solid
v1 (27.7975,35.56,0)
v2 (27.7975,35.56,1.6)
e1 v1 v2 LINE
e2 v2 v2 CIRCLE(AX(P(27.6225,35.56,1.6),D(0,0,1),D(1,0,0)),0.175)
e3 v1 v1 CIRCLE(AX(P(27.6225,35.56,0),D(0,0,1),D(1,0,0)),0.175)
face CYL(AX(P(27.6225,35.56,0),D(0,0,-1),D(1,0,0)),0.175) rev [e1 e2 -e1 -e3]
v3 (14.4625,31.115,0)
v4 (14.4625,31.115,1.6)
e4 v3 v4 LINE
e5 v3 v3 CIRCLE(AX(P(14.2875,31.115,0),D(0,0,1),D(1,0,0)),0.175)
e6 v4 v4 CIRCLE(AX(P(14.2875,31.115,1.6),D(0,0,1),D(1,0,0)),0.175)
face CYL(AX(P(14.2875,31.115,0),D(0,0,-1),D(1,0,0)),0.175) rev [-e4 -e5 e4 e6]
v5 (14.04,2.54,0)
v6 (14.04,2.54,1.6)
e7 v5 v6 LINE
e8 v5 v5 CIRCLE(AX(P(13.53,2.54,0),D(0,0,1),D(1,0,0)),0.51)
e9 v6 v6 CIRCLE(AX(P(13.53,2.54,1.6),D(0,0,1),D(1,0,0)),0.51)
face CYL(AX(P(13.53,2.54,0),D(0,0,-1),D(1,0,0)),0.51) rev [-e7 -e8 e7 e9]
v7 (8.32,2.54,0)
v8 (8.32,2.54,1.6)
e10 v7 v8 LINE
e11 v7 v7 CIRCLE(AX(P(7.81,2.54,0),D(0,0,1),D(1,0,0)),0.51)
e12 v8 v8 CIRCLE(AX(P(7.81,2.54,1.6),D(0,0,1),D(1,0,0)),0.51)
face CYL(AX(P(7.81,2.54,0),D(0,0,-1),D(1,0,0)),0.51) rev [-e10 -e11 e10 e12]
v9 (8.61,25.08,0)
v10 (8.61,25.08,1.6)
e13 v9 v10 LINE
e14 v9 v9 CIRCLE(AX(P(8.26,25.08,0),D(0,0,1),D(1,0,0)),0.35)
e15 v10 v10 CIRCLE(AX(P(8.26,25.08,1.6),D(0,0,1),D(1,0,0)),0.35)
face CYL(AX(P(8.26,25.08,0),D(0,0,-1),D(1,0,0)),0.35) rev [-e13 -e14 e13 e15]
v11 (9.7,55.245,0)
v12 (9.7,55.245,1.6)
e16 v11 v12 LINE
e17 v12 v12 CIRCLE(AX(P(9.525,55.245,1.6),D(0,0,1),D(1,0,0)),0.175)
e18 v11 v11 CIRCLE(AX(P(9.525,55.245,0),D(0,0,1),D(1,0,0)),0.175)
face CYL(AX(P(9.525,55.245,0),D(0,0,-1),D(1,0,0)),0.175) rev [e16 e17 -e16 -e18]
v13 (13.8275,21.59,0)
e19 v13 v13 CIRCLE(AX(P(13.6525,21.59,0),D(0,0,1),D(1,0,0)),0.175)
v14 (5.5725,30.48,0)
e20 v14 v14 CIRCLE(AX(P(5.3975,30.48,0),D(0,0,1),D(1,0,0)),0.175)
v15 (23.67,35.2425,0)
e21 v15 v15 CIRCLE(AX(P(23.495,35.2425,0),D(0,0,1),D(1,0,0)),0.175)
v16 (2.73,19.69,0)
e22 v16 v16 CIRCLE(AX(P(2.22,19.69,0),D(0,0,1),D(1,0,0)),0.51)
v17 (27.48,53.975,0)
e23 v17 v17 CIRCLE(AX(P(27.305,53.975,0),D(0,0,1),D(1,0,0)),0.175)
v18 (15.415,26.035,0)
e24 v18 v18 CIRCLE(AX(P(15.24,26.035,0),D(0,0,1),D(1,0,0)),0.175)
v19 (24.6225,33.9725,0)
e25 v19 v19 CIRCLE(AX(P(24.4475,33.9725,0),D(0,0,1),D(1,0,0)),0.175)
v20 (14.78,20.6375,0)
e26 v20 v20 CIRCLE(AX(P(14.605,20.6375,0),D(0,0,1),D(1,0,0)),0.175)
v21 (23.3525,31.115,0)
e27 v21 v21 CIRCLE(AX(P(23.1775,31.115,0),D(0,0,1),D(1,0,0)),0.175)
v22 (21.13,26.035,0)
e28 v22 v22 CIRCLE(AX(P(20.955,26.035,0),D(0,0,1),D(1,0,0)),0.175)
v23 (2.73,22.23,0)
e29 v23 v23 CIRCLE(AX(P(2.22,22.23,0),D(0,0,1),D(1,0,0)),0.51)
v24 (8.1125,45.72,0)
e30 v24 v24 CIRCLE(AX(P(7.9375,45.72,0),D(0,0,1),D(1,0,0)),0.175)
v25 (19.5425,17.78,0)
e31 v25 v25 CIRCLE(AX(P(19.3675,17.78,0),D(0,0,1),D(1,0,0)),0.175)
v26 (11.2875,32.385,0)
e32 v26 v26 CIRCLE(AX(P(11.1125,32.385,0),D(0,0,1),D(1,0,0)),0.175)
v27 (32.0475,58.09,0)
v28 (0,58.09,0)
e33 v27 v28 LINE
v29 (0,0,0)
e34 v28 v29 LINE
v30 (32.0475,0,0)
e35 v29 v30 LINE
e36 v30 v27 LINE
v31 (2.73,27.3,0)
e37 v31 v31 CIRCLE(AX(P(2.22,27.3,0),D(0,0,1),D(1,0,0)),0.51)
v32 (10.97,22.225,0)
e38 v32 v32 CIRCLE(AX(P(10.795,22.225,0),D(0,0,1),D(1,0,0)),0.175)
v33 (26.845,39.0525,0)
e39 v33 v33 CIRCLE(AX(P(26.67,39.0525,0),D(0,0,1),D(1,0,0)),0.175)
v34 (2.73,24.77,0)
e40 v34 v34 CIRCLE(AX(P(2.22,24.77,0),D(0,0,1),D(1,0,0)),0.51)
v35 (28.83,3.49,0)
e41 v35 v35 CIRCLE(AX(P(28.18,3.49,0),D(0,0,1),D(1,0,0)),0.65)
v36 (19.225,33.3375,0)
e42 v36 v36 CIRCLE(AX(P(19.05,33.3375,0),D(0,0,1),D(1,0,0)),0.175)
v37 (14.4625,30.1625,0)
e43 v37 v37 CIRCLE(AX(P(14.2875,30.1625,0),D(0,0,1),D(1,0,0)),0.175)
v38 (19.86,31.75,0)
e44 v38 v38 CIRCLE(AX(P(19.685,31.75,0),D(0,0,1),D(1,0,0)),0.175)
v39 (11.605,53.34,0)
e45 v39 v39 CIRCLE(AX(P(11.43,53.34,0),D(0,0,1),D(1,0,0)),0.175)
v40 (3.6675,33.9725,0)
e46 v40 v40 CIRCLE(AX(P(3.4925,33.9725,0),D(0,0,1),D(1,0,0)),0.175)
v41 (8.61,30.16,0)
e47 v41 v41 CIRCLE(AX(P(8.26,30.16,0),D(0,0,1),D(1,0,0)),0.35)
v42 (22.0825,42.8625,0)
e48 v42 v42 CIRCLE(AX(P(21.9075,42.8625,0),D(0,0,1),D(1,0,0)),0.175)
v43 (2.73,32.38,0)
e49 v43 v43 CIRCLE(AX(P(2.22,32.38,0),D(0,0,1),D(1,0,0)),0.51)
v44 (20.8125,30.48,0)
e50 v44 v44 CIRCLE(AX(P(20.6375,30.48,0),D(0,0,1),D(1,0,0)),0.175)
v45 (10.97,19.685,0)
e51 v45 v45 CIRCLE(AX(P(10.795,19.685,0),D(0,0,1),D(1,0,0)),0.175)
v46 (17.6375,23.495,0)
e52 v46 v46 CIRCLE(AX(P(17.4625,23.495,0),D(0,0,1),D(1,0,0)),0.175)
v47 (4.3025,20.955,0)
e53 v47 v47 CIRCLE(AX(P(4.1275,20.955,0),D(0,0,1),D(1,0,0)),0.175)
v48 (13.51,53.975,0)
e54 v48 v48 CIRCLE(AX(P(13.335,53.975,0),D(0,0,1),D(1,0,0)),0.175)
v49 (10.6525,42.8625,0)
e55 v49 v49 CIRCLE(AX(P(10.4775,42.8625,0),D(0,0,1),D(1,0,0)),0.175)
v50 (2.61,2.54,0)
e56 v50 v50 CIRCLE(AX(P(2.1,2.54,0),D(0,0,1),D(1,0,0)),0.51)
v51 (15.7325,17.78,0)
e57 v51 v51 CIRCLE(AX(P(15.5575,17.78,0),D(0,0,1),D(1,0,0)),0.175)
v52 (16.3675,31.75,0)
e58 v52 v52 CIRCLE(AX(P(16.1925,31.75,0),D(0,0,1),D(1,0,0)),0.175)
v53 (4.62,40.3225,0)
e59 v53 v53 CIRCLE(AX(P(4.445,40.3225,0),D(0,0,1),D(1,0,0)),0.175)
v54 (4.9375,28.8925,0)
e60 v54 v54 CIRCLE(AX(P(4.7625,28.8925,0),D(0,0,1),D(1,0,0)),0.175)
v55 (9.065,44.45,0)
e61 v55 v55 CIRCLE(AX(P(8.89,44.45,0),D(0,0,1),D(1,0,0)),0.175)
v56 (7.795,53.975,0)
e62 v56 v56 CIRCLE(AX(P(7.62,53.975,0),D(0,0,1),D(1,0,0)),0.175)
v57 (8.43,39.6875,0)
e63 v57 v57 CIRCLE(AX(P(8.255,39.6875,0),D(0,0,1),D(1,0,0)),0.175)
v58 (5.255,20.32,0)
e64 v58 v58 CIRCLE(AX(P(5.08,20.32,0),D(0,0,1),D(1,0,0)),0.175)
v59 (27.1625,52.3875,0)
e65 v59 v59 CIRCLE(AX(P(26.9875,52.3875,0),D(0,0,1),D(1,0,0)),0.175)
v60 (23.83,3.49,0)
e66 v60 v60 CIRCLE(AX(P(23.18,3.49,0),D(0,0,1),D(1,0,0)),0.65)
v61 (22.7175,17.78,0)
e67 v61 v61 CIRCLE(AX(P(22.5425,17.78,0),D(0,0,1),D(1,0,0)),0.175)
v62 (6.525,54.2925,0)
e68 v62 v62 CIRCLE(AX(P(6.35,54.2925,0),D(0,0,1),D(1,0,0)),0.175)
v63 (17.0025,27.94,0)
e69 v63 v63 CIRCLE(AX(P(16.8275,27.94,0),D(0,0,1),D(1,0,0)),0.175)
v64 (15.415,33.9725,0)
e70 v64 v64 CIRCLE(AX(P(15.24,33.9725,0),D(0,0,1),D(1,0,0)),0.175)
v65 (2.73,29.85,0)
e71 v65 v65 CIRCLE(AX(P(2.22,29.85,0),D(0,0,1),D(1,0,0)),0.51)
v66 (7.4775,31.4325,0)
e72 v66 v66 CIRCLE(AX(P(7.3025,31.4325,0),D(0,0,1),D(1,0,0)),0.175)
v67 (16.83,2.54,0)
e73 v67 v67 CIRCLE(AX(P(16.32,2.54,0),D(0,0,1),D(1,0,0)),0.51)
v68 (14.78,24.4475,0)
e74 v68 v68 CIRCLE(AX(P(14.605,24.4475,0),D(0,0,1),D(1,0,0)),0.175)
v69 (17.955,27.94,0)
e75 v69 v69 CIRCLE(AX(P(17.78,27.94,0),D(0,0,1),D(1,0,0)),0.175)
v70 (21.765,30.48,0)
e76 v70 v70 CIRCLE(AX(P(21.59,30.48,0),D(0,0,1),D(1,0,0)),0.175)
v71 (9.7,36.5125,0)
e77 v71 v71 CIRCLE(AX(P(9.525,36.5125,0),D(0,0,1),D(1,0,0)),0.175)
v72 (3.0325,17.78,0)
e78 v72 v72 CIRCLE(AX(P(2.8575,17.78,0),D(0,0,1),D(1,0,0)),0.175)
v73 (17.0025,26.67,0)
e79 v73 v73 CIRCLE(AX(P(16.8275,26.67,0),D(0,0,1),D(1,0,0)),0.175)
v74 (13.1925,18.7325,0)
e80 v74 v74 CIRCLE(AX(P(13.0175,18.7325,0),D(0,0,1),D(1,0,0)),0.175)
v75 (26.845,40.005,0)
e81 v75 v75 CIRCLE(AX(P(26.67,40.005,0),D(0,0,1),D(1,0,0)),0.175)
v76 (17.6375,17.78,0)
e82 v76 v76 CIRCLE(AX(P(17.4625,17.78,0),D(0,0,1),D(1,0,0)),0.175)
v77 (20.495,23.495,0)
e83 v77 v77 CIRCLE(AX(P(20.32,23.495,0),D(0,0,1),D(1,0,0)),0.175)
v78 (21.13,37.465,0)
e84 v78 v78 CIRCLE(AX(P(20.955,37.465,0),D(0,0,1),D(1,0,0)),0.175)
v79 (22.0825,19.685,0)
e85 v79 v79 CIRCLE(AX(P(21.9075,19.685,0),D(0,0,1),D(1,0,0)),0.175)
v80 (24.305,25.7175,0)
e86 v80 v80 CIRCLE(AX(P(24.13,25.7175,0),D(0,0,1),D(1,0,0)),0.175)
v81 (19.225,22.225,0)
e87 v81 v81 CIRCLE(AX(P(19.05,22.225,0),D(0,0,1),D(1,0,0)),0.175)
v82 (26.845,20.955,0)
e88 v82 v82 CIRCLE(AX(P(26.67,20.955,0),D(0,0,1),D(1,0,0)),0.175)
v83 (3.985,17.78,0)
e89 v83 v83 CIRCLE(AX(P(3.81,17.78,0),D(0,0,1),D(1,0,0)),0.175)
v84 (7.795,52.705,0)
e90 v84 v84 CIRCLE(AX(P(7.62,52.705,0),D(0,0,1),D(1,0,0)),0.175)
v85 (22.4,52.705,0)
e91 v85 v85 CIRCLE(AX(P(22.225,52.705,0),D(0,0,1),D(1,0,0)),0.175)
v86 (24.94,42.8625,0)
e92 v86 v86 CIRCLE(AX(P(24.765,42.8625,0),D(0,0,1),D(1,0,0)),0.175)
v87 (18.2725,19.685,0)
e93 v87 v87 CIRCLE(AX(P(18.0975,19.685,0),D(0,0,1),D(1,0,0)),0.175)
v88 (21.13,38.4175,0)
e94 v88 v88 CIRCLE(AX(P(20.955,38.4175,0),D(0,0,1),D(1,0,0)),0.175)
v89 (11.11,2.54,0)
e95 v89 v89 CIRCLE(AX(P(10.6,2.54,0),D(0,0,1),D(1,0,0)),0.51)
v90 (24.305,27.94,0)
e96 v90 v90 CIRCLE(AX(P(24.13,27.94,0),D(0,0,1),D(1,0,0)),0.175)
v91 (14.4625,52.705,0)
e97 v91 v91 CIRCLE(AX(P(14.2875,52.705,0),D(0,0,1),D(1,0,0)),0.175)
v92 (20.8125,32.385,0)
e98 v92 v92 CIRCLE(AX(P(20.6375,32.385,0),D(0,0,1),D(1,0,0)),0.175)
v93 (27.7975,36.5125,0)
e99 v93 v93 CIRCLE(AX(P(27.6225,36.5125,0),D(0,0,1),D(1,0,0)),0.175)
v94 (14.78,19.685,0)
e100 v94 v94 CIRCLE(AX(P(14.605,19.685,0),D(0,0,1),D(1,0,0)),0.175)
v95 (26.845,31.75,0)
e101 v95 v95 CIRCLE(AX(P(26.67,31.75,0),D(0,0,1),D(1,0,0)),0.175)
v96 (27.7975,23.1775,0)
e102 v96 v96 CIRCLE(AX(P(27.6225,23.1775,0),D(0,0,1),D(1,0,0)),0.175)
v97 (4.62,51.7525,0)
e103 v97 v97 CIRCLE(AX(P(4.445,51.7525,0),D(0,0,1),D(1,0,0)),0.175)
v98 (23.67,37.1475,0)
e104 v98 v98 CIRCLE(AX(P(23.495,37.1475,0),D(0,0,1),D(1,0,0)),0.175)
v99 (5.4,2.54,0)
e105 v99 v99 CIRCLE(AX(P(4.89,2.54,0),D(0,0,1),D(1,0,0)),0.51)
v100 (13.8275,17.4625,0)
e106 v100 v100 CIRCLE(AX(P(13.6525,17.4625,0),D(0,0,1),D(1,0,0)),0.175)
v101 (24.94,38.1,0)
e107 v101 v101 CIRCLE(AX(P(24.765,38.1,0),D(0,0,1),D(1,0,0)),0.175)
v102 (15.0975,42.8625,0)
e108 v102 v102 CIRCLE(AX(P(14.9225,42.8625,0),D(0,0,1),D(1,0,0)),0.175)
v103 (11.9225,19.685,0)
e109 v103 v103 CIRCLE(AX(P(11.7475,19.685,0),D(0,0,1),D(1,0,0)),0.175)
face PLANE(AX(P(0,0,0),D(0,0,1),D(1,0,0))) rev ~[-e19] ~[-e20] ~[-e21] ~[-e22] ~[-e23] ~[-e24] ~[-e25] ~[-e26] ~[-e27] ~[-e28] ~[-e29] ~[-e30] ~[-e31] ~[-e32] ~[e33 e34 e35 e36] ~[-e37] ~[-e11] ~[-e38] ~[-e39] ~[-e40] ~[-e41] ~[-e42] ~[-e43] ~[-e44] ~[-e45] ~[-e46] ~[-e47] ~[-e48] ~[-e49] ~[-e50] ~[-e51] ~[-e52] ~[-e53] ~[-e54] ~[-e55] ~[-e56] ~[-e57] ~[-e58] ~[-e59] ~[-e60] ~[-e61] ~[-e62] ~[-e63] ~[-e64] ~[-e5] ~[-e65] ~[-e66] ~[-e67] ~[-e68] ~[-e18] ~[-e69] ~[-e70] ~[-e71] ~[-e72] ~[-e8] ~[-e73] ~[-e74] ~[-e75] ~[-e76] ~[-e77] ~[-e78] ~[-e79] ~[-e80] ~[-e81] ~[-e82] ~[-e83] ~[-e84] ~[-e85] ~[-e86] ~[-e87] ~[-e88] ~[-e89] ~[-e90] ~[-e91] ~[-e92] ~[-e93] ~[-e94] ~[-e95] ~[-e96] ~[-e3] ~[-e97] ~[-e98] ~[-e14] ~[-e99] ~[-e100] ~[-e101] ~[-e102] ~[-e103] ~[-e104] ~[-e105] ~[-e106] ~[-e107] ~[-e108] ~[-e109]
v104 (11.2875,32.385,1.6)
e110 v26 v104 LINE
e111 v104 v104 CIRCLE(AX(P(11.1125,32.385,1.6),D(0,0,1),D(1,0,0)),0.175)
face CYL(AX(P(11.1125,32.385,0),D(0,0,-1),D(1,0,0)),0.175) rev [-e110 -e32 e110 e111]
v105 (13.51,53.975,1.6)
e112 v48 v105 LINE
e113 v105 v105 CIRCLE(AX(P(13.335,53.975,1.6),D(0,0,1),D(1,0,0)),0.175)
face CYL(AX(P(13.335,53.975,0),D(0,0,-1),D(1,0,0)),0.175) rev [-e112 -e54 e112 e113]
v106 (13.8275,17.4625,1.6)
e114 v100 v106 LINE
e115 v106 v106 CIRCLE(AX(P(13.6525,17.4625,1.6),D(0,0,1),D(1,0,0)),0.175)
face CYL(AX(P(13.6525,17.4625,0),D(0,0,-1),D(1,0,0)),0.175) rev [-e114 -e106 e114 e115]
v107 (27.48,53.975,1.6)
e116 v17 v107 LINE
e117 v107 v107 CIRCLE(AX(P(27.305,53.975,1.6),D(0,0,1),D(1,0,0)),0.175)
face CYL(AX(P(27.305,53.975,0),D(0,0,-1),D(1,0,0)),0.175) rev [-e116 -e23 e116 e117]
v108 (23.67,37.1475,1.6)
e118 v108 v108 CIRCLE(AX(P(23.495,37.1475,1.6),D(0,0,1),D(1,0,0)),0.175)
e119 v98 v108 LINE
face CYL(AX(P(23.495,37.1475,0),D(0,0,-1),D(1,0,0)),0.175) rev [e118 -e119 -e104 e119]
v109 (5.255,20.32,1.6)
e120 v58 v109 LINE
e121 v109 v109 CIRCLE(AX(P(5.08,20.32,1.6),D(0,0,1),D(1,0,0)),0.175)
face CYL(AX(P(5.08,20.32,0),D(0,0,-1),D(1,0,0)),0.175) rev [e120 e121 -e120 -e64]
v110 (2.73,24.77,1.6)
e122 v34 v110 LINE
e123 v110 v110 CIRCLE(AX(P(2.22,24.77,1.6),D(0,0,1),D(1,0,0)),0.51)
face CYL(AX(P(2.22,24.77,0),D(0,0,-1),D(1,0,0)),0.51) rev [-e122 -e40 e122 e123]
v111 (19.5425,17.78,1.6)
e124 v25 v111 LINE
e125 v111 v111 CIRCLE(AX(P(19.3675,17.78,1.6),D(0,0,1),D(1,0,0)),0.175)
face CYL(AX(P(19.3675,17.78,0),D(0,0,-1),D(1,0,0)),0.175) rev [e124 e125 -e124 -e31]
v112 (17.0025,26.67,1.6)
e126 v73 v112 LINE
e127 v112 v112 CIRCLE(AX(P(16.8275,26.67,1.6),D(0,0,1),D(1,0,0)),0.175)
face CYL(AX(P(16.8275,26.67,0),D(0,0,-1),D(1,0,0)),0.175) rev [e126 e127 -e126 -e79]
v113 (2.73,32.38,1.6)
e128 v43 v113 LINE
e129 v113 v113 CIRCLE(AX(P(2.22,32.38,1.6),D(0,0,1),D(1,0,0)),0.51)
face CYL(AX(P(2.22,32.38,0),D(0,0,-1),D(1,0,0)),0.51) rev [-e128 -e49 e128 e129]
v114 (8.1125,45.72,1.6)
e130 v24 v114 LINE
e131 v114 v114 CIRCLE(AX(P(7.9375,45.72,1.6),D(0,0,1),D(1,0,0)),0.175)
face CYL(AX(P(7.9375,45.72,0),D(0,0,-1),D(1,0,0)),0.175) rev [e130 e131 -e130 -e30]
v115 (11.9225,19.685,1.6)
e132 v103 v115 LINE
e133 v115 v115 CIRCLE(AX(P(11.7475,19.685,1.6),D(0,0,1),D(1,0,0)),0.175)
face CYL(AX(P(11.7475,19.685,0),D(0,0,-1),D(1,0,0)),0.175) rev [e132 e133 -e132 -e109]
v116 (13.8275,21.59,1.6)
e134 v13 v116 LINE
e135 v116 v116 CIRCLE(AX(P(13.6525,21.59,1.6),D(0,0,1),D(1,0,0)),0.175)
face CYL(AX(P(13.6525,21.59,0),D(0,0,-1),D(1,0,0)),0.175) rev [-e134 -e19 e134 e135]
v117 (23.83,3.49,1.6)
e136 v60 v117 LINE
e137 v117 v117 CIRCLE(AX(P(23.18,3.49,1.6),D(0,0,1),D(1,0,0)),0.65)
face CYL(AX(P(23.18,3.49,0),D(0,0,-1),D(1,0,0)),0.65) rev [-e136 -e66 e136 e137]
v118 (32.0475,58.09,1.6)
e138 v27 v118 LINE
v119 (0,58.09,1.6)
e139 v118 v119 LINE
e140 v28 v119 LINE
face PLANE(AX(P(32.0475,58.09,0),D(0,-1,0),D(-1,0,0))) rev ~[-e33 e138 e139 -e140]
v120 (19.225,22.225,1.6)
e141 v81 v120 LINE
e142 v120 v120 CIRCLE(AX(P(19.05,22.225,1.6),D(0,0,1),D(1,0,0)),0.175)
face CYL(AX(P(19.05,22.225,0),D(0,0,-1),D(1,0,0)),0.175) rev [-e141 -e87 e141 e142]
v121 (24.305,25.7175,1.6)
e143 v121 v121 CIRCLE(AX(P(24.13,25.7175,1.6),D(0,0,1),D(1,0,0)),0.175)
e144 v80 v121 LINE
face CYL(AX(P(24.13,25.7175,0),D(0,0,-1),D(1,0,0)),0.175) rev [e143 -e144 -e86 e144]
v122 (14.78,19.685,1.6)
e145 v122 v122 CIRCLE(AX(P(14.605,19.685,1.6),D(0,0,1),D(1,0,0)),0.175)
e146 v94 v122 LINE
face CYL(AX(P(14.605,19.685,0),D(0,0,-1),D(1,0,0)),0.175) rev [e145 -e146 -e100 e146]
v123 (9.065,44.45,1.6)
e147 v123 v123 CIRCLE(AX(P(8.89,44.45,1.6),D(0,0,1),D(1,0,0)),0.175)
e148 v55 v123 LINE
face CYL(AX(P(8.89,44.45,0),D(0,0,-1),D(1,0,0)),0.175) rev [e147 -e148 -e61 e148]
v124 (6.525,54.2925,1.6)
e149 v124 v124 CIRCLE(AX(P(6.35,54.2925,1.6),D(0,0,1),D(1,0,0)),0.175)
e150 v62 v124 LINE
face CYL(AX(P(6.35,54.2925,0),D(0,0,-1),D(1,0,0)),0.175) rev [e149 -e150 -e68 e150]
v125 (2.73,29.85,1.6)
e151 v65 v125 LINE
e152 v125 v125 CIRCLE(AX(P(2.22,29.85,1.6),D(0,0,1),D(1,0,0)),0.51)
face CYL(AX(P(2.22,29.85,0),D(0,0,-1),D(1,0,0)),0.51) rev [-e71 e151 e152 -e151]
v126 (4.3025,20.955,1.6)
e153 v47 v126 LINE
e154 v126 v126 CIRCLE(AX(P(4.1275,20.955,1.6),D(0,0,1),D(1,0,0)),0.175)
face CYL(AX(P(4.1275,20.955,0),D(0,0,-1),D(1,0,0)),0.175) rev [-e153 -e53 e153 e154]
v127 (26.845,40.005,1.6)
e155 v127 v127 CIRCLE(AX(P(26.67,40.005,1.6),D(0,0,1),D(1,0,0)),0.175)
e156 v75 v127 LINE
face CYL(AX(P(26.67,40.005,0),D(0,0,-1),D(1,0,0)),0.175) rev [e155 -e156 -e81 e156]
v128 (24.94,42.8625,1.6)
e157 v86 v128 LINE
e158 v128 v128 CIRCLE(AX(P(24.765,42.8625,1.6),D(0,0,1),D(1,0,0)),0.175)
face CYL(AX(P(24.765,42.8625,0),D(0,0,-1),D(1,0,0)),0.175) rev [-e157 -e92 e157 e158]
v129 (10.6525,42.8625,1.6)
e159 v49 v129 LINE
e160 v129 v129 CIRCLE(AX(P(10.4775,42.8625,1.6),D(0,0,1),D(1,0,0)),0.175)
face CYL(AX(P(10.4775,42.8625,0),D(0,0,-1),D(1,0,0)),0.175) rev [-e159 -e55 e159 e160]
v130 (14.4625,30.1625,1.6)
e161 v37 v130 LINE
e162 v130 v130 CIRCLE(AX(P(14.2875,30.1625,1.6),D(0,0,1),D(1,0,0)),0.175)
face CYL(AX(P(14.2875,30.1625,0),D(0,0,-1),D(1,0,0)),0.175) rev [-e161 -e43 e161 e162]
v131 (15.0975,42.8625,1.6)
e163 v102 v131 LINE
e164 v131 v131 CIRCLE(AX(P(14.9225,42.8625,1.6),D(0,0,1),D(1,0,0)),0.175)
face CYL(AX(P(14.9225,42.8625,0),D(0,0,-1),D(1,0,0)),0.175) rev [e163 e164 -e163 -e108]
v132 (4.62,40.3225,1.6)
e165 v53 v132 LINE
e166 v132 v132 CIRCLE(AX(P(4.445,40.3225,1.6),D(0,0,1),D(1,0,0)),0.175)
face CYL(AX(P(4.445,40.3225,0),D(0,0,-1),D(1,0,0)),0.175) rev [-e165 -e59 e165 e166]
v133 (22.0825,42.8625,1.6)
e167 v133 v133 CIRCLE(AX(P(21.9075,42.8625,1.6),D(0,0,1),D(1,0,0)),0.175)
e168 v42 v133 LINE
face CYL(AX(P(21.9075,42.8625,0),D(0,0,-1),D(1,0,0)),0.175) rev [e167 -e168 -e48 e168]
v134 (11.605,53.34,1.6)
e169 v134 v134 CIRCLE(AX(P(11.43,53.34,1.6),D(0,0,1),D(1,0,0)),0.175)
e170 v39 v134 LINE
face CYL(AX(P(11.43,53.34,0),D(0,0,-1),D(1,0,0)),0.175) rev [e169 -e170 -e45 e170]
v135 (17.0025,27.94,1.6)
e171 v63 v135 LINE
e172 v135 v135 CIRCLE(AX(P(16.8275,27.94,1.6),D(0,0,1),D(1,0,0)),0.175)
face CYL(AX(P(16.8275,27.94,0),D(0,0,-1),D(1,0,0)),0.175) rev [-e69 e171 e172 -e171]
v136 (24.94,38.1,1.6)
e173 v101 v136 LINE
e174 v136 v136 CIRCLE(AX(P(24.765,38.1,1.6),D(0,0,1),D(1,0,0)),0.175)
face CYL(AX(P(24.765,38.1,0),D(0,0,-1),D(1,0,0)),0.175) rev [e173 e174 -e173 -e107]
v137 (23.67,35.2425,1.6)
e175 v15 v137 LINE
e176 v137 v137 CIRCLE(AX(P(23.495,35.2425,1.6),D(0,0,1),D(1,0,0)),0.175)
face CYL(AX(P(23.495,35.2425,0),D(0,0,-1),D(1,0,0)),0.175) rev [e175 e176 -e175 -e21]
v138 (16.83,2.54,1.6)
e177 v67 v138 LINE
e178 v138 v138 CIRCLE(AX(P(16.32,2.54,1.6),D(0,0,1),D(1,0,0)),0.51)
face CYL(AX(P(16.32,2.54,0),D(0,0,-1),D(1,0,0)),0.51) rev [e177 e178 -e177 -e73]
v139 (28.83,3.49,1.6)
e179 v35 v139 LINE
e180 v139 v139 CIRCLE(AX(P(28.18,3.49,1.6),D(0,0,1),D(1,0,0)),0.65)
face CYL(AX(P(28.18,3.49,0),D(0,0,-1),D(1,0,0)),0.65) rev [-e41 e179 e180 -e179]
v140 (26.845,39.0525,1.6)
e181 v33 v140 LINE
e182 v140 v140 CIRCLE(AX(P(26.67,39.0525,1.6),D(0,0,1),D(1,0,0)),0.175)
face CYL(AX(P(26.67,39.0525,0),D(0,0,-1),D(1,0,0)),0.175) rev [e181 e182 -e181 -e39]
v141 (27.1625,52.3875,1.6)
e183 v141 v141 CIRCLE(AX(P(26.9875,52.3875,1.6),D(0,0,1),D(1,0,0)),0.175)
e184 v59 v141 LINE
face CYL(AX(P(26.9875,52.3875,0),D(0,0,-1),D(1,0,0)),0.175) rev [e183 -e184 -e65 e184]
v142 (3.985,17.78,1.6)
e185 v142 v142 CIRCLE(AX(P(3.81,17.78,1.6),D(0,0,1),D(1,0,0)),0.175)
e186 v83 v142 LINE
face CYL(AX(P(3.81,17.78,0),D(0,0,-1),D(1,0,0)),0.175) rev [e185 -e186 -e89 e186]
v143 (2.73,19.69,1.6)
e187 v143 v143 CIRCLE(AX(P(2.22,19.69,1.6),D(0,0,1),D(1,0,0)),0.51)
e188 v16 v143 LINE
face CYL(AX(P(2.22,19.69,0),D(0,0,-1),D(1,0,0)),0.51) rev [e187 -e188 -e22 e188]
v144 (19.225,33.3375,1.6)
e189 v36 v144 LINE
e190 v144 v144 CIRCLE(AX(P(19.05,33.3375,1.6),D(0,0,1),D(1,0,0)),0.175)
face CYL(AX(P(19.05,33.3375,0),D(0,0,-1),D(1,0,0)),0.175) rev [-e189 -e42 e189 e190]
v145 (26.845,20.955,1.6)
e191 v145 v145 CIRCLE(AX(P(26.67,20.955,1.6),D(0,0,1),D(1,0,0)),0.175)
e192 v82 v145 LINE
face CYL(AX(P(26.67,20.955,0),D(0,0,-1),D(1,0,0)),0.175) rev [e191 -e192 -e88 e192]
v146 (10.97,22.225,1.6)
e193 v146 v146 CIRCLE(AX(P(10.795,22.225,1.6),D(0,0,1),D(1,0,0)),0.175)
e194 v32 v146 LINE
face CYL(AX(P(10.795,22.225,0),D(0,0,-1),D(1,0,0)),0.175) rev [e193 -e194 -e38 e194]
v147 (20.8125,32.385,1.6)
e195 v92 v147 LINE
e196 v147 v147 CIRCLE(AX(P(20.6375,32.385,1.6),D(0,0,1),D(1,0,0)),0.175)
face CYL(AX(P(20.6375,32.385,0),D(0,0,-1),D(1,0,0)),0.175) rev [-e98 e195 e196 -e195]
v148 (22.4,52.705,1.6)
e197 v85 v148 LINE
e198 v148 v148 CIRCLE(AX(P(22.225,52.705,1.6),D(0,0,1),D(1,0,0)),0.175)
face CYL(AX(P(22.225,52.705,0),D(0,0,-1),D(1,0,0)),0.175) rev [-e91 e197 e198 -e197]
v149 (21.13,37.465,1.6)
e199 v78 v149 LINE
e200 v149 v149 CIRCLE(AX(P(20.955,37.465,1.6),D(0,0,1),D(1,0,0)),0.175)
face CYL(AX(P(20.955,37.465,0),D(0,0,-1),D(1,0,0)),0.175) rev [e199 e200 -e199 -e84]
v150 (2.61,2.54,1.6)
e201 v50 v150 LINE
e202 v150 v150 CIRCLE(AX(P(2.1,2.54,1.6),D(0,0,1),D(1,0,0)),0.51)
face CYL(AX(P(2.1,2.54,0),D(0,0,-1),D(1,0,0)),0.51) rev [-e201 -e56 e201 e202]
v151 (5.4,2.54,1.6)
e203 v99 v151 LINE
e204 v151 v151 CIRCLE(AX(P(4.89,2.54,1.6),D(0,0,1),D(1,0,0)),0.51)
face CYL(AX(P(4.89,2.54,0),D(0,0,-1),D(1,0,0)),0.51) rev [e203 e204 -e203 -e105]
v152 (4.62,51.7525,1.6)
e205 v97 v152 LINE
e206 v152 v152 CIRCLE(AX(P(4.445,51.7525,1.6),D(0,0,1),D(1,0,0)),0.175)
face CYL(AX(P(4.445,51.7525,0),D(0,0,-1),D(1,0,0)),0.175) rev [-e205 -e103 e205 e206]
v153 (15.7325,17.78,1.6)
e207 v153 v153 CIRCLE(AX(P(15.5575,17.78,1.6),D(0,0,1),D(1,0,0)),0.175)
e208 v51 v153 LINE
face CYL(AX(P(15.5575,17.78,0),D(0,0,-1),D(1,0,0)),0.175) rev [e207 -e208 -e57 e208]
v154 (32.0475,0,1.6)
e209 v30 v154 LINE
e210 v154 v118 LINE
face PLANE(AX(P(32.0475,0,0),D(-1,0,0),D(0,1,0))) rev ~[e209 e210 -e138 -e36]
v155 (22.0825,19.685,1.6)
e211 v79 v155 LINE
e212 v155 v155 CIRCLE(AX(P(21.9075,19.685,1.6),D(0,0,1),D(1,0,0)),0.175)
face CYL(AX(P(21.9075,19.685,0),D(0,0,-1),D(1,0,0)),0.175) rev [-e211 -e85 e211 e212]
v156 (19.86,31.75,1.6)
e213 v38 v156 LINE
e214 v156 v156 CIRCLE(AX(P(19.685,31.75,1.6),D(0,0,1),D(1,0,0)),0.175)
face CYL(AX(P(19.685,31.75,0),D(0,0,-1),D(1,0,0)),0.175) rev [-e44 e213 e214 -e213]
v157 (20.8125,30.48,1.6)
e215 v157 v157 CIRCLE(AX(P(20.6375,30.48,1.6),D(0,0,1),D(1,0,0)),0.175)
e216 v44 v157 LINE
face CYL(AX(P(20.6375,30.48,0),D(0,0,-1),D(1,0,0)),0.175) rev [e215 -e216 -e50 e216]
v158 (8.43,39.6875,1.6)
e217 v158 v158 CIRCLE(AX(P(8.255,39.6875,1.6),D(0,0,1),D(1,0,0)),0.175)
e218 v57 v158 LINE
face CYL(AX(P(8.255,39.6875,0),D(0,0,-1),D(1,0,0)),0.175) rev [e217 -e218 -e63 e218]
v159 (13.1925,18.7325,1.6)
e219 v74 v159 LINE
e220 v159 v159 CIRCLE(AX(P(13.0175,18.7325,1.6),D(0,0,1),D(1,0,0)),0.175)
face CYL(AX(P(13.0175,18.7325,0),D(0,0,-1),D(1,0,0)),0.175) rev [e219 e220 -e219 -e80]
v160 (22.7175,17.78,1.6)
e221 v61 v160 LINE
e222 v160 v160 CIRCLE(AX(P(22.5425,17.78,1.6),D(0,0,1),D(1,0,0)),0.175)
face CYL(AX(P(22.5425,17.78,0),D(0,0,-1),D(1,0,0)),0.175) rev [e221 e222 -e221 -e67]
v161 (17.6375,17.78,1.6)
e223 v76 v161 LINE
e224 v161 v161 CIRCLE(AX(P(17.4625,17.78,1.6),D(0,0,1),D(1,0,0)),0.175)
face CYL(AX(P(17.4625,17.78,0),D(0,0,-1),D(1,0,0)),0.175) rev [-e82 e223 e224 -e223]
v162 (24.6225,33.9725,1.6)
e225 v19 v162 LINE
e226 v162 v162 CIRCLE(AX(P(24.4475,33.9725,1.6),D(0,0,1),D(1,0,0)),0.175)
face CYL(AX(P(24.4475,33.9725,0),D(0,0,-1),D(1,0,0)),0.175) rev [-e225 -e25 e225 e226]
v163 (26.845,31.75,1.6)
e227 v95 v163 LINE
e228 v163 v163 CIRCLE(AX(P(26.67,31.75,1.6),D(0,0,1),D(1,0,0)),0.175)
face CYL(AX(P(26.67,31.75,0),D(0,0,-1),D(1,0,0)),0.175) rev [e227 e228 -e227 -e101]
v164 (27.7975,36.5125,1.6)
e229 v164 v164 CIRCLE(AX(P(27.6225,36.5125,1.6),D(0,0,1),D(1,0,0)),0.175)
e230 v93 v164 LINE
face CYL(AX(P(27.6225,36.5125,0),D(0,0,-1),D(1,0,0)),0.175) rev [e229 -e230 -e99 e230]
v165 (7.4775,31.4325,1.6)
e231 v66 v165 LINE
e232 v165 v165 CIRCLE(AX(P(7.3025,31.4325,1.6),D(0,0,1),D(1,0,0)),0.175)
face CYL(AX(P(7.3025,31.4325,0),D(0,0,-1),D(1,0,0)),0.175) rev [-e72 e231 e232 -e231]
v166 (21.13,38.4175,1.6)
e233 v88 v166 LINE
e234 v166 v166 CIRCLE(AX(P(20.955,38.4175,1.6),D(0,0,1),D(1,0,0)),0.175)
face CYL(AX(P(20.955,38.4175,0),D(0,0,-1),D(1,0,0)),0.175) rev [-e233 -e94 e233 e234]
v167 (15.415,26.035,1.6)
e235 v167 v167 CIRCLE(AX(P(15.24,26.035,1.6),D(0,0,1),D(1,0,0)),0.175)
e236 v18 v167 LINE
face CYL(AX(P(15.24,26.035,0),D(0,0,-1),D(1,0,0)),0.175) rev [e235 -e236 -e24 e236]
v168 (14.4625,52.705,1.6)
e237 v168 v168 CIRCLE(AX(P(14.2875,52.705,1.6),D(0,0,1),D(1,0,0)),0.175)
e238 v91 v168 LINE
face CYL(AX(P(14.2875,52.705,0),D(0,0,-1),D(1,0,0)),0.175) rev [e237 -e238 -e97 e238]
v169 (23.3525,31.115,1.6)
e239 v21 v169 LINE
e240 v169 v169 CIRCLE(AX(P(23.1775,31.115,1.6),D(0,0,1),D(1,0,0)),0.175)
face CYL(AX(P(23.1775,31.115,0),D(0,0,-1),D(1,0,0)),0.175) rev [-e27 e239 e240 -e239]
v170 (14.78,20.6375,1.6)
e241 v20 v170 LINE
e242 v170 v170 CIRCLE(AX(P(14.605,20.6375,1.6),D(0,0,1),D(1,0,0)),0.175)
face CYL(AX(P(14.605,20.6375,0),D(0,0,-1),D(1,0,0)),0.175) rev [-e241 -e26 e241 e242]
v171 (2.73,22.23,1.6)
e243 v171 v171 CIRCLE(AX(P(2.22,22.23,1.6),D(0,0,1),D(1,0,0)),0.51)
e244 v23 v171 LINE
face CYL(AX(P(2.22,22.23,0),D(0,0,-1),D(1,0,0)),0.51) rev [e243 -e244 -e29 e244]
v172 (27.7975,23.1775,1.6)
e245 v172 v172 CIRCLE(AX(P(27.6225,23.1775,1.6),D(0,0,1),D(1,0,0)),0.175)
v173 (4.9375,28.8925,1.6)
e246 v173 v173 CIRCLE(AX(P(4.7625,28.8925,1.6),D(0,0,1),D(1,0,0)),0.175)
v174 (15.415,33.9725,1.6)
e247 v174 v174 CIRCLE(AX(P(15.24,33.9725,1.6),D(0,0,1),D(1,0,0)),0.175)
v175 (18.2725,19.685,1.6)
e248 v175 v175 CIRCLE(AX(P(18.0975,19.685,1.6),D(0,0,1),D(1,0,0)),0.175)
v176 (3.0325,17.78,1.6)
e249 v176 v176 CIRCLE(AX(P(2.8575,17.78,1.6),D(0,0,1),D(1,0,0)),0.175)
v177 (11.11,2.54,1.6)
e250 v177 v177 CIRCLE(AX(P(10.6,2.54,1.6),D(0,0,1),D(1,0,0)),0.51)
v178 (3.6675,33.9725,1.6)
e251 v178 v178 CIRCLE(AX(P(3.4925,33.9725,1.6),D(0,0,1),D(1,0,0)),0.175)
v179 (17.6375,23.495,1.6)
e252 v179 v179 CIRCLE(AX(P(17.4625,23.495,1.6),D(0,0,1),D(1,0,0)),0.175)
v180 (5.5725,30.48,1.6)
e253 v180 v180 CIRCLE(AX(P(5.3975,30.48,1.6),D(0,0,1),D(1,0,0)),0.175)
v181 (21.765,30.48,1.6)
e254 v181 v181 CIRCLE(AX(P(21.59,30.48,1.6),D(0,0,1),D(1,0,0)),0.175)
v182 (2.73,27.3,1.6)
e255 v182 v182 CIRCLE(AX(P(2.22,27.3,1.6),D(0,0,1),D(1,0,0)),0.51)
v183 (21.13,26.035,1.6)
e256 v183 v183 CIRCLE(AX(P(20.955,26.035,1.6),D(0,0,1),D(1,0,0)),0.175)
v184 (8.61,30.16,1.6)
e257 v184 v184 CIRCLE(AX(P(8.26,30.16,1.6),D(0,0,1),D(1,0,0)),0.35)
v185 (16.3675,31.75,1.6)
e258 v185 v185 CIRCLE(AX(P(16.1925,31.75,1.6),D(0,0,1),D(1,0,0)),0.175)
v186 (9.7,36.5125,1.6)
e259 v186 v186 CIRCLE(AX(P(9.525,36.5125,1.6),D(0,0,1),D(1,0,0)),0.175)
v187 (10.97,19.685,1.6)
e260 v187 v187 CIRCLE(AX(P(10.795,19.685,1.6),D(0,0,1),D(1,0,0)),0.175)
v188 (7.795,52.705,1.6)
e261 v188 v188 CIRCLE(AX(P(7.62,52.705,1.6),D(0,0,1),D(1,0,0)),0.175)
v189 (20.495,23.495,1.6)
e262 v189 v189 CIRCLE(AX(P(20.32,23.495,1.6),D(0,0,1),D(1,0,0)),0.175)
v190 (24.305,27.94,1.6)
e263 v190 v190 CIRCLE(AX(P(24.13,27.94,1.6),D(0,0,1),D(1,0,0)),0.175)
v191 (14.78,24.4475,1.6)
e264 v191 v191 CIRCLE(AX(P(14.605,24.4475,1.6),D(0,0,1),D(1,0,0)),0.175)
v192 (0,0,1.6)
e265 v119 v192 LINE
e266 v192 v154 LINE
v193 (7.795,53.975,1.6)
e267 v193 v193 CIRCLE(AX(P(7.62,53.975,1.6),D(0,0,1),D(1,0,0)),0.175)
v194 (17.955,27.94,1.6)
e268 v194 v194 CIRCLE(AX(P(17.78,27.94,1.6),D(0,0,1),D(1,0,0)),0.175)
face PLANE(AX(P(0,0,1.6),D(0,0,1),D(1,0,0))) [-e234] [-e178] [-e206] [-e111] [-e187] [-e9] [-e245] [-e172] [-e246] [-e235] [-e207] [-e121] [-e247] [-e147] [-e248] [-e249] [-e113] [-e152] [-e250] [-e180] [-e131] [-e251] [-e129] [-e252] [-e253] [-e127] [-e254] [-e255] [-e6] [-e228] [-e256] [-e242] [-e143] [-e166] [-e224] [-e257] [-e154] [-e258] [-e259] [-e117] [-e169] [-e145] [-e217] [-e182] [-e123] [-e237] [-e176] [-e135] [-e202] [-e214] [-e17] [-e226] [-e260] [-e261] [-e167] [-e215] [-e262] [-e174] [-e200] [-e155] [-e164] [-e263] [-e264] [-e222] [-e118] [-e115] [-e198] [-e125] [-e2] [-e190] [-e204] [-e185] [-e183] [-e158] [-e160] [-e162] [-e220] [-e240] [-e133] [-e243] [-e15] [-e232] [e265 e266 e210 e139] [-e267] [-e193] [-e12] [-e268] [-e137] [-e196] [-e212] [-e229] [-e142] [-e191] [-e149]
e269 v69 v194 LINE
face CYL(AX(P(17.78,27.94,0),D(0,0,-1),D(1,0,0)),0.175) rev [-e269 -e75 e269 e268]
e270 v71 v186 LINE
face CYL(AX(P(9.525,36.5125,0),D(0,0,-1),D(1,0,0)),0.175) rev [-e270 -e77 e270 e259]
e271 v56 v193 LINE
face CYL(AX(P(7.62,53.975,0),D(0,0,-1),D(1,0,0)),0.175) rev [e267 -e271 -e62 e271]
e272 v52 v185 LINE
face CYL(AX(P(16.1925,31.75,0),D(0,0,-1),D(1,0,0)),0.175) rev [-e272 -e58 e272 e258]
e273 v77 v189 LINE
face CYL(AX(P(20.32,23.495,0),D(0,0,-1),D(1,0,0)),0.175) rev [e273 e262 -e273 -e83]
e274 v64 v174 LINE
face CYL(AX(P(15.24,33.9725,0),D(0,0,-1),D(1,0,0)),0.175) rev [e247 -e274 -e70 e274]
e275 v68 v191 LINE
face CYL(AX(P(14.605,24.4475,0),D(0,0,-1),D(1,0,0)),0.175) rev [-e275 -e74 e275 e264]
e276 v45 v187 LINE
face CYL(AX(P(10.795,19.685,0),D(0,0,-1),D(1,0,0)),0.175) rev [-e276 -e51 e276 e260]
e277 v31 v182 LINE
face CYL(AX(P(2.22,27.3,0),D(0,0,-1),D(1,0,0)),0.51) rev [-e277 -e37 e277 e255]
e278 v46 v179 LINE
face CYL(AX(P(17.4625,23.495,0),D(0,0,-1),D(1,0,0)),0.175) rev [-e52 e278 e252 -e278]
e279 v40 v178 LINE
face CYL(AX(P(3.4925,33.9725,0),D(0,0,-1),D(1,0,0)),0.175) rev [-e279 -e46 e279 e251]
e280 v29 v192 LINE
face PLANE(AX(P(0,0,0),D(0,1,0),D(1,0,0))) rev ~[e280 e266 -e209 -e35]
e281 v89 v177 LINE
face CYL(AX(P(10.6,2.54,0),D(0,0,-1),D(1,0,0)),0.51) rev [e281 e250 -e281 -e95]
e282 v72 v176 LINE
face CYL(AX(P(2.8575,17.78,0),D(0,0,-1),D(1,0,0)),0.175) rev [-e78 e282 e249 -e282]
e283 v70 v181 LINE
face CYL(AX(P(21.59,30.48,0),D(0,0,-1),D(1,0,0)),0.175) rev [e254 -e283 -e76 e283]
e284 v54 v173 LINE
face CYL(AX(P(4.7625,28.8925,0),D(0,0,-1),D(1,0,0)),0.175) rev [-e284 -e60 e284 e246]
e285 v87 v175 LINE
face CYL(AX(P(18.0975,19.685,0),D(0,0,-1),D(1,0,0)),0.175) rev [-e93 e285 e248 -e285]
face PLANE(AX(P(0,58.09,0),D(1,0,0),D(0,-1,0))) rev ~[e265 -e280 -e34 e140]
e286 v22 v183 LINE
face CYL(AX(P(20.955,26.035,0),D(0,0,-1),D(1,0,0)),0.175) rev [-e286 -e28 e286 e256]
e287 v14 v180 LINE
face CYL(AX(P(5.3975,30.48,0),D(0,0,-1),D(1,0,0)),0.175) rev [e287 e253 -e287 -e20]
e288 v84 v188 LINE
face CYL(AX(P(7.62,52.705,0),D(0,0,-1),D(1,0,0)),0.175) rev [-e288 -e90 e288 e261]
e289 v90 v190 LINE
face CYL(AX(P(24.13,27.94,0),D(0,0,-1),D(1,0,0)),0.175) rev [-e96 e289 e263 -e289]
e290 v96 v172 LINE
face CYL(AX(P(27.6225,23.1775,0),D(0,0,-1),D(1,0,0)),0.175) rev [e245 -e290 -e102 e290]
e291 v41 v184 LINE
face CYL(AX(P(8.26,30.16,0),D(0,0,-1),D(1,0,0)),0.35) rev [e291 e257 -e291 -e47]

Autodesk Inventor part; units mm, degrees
ref_plane "YZ Plane" through (0, 0, 0) normal (1, 0, 0) x (0, 1, 0)
ref_plane "XZ Plane" through (0, 0, 0) normal (0, 1, 0) x (-1, 0, 0)
ref_plane "XY Plane" through (0, 0, 0) normal (0, 0, 1) x (1, 0, 0)
sketch "Sketch1" plane through (0, 0, 0) normal (0, 0, 1) x (1, 0, 0)
  line L0 (0, 0) -> (32.0475, 0)
  line L1 (32.0475, 0) -> (32.0475, 58.09)
  line L2 (32.0475, 58.09) -> (0, 58.09)
  line L3 (0, 58.09) -> (0, 0)
  circle A0 centre (2.22, 19.69) radius 0.51
  circle A1 centre (2.22, 22.23) radius 0.51
  circle A2 centre (2.22, 24.77) radius 0.51
  circle A3 centre (2.22, 27.3) radius 0.51
  circle A4 centre (2.22, 29.85) radius 0.51
  circle A5 centre (2.22, 32.38) radius 0.51
  circle A6 centre (7.81, 2.54) radius 0.51
  circle A7 centre (10.6, 2.54) radius 0.51
  circle A8 centre (16.32, 2.54) radius 0.51
  circle A9 centre (13.53, 2.54) radius 0.51
  circle A10 centre (2.1, 2.54) radius 0.51
  circle A11 centre (4.89, 2.54) radius 0.51
  circle A12 centre (23.18, 3.49) radius 0.65
  circle A13 centre (28.18, 3.49) radius 0.65
  circle A14 centre (8.26, 25.08) radius 0.35
  circle A15 centre (8.26, 30.16) radius 0.35
  circle A16 centre (23.495, 35.2425) radius 0.175
  circle A17 centre (24.4475, 33.9725) radius 0.175
  circle A18 centre (24.765, 38.1) radius 0.175
  circle A19 centre (26.67, 39.0525) radius 0.175
  circle A20 centre (20.955, 37.465) radius 0.175
  circle A21 centre (8.255, 39.6875) radius 0.175
  circle A22 centre (23.495, 37.1475) radius 0.175
  circle A23 centre (4.445, 40.3225) radius 0.175
  circle A24 centre (20.6375, 32.385) radius 0.175
  circle A25 centre (26.67, 20.955) radius 0.175
  circle A26 centre (20.955, 38.4175) radius 0.175
  circle A27 centre (27.6225, 36.5125) radius 0.175
  circle A28 centre (14.2875, 31.115) radius 0.175
  circle A29 centre (20.6375, 30.48) radius 0.175
  circle A30 centre (14.2875, 52.705) radius 0.175
  circle A31 centre (4.445, 51.7525) radius 0.175
  circle A32 centre (16.8275, 27.94) radius 0.175
  circle A33 centre (14.2875, 30.1625) radius 0.175
  circle A34 centre (13.335, 53.975) radius 0.175
  circle A35 centre (7.62, 53.975) radius 0.175
  circle A36 centre (15.24, 33.9725) radius 0.175
  circle A37 centre (7.62, 52.705) radius 0.175
  circle A38 centre (22.225, 52.705) radius 0.175
  circle A39 centre (7.9375, 45.72) radius 0.175
  circle A40 centre (4.7625, 28.8925) radius 0.175
  circle A41 centre (20.955, 26.035) radius 0.175
  circle A42 centre (26.9875, 52.3875) radius 0.175
  circle A43 centre (3.4925, 33.9725) radius 0.175
  circle A44 centre (19.3675, 17.78) radius 0.175
  circle A45 centre (13.0175, 18.7325) radius 0.175
  circle A46 centre (27.6225, 35.56) radius 0.175
  circle A47 centre (19.05, 33.3375) radius 0.175
  circle A48 centre (24.765, 42.8625) radius 0.175
  circle A49 centre (11.1125, 32.385) radius 0.175
  circle A50 centre (27.6225, 23.1775) radius 0.175
  circle A51 centre (17.4625, 23.495) radius 0.175
  circle A52 centre (16.8275, 26.67) radius 0.175
  circle A53 centre (10.795, 19.685) radius 0.175
  circle A54 centre (15.5575, 17.78) radius 0.175
  circle A55 centre (18.0975, 19.685) radius 0.175
  circle A56 centre (21.9075, 19.685) radius 0.175
  circle A57 centre (19.05, 22.225) radius 0.175
  circle A58 centre (4.1275, 20.955) radius 0.175
  circle A59 centre (9.525, 55.245) radius 0.175
  circle A60 centre (26.67, 31.75) radius 0.175
  circle A61 centre (10.795, 22.225) radius 0.175
  circle A62 centre (13.6525, 21.59) radius 0.175
  circle A63 centre (13.6525, 17.4625) radius 0.175
  circle A64 centre (17.4625, 17.78) radius 0.175
  circle A65 centre (11.7475, 19.685) radius 0.175
  circle A66 centre (14.605, 19.685) radius 0.175
  circle A67 centre (20.32, 23.495) radius 0.175
  circle A68 centre (3.81, 17.78) radius 0.175
  circle A69 centre (22.5425, 17.78) radius 0.175
  circle A70 centre (2.8575, 17.78) radius 0.175
  circle A71 centre (23.1775, 31.115) radius 0.175
  circle A72 centre (17.78, 27.94) radius 0.175
  circle A73 centre (27.305, 53.975) radius 0.175
  circle A74 centre (11.43, 53.34) radius 0.175
  circle A75 centre (6.35, 54.2925) radius 0.175
  circle A76 centre (15.24, 26.035) radius 0.175
  circle A77 centre (24.13, 27.94) radius 0.175
  circle A78 centre (24.13, 25.7175) radius 0.175
  circle A79 centre (14.605, 24.4475) radius 0.175
  circle A80 centre (26.67, 40.005) radius 0.175
  circle A81 centre (21.9075, 42.8625) radius 0.175
  circle A82 centre (8.89, 44.45) radius 0.175
  circle A83 centre (14.605, 20.6375) radius 0.175
  circle A84 centre (5.08, 20.32) radius 0.175
  circle A85 centre (16.1925, 31.75) radius 0.175
  circle A86 centre (7.3025, 31.4325) radius 0.175
  circle A87 centre (21.59, 30.48) radius 0.175
  circle A88 centre (5.3975, 30.48) radius 0.175
  circle A89 centre (19.685, 31.75) radius 0.175
  circle A90 centre (10.4775, 42.8625) radius 0.175
  circle A91 centre (14.9225, 42.8625) radius 0.175
  circle A92 centre (9.525, 36.5125) radius 0.175
extrude "Dog_driver.brd_Outline" add sketch "Sketch1" along normal blind 1.6
properties part number "Dog_driver.brd_Outline"
